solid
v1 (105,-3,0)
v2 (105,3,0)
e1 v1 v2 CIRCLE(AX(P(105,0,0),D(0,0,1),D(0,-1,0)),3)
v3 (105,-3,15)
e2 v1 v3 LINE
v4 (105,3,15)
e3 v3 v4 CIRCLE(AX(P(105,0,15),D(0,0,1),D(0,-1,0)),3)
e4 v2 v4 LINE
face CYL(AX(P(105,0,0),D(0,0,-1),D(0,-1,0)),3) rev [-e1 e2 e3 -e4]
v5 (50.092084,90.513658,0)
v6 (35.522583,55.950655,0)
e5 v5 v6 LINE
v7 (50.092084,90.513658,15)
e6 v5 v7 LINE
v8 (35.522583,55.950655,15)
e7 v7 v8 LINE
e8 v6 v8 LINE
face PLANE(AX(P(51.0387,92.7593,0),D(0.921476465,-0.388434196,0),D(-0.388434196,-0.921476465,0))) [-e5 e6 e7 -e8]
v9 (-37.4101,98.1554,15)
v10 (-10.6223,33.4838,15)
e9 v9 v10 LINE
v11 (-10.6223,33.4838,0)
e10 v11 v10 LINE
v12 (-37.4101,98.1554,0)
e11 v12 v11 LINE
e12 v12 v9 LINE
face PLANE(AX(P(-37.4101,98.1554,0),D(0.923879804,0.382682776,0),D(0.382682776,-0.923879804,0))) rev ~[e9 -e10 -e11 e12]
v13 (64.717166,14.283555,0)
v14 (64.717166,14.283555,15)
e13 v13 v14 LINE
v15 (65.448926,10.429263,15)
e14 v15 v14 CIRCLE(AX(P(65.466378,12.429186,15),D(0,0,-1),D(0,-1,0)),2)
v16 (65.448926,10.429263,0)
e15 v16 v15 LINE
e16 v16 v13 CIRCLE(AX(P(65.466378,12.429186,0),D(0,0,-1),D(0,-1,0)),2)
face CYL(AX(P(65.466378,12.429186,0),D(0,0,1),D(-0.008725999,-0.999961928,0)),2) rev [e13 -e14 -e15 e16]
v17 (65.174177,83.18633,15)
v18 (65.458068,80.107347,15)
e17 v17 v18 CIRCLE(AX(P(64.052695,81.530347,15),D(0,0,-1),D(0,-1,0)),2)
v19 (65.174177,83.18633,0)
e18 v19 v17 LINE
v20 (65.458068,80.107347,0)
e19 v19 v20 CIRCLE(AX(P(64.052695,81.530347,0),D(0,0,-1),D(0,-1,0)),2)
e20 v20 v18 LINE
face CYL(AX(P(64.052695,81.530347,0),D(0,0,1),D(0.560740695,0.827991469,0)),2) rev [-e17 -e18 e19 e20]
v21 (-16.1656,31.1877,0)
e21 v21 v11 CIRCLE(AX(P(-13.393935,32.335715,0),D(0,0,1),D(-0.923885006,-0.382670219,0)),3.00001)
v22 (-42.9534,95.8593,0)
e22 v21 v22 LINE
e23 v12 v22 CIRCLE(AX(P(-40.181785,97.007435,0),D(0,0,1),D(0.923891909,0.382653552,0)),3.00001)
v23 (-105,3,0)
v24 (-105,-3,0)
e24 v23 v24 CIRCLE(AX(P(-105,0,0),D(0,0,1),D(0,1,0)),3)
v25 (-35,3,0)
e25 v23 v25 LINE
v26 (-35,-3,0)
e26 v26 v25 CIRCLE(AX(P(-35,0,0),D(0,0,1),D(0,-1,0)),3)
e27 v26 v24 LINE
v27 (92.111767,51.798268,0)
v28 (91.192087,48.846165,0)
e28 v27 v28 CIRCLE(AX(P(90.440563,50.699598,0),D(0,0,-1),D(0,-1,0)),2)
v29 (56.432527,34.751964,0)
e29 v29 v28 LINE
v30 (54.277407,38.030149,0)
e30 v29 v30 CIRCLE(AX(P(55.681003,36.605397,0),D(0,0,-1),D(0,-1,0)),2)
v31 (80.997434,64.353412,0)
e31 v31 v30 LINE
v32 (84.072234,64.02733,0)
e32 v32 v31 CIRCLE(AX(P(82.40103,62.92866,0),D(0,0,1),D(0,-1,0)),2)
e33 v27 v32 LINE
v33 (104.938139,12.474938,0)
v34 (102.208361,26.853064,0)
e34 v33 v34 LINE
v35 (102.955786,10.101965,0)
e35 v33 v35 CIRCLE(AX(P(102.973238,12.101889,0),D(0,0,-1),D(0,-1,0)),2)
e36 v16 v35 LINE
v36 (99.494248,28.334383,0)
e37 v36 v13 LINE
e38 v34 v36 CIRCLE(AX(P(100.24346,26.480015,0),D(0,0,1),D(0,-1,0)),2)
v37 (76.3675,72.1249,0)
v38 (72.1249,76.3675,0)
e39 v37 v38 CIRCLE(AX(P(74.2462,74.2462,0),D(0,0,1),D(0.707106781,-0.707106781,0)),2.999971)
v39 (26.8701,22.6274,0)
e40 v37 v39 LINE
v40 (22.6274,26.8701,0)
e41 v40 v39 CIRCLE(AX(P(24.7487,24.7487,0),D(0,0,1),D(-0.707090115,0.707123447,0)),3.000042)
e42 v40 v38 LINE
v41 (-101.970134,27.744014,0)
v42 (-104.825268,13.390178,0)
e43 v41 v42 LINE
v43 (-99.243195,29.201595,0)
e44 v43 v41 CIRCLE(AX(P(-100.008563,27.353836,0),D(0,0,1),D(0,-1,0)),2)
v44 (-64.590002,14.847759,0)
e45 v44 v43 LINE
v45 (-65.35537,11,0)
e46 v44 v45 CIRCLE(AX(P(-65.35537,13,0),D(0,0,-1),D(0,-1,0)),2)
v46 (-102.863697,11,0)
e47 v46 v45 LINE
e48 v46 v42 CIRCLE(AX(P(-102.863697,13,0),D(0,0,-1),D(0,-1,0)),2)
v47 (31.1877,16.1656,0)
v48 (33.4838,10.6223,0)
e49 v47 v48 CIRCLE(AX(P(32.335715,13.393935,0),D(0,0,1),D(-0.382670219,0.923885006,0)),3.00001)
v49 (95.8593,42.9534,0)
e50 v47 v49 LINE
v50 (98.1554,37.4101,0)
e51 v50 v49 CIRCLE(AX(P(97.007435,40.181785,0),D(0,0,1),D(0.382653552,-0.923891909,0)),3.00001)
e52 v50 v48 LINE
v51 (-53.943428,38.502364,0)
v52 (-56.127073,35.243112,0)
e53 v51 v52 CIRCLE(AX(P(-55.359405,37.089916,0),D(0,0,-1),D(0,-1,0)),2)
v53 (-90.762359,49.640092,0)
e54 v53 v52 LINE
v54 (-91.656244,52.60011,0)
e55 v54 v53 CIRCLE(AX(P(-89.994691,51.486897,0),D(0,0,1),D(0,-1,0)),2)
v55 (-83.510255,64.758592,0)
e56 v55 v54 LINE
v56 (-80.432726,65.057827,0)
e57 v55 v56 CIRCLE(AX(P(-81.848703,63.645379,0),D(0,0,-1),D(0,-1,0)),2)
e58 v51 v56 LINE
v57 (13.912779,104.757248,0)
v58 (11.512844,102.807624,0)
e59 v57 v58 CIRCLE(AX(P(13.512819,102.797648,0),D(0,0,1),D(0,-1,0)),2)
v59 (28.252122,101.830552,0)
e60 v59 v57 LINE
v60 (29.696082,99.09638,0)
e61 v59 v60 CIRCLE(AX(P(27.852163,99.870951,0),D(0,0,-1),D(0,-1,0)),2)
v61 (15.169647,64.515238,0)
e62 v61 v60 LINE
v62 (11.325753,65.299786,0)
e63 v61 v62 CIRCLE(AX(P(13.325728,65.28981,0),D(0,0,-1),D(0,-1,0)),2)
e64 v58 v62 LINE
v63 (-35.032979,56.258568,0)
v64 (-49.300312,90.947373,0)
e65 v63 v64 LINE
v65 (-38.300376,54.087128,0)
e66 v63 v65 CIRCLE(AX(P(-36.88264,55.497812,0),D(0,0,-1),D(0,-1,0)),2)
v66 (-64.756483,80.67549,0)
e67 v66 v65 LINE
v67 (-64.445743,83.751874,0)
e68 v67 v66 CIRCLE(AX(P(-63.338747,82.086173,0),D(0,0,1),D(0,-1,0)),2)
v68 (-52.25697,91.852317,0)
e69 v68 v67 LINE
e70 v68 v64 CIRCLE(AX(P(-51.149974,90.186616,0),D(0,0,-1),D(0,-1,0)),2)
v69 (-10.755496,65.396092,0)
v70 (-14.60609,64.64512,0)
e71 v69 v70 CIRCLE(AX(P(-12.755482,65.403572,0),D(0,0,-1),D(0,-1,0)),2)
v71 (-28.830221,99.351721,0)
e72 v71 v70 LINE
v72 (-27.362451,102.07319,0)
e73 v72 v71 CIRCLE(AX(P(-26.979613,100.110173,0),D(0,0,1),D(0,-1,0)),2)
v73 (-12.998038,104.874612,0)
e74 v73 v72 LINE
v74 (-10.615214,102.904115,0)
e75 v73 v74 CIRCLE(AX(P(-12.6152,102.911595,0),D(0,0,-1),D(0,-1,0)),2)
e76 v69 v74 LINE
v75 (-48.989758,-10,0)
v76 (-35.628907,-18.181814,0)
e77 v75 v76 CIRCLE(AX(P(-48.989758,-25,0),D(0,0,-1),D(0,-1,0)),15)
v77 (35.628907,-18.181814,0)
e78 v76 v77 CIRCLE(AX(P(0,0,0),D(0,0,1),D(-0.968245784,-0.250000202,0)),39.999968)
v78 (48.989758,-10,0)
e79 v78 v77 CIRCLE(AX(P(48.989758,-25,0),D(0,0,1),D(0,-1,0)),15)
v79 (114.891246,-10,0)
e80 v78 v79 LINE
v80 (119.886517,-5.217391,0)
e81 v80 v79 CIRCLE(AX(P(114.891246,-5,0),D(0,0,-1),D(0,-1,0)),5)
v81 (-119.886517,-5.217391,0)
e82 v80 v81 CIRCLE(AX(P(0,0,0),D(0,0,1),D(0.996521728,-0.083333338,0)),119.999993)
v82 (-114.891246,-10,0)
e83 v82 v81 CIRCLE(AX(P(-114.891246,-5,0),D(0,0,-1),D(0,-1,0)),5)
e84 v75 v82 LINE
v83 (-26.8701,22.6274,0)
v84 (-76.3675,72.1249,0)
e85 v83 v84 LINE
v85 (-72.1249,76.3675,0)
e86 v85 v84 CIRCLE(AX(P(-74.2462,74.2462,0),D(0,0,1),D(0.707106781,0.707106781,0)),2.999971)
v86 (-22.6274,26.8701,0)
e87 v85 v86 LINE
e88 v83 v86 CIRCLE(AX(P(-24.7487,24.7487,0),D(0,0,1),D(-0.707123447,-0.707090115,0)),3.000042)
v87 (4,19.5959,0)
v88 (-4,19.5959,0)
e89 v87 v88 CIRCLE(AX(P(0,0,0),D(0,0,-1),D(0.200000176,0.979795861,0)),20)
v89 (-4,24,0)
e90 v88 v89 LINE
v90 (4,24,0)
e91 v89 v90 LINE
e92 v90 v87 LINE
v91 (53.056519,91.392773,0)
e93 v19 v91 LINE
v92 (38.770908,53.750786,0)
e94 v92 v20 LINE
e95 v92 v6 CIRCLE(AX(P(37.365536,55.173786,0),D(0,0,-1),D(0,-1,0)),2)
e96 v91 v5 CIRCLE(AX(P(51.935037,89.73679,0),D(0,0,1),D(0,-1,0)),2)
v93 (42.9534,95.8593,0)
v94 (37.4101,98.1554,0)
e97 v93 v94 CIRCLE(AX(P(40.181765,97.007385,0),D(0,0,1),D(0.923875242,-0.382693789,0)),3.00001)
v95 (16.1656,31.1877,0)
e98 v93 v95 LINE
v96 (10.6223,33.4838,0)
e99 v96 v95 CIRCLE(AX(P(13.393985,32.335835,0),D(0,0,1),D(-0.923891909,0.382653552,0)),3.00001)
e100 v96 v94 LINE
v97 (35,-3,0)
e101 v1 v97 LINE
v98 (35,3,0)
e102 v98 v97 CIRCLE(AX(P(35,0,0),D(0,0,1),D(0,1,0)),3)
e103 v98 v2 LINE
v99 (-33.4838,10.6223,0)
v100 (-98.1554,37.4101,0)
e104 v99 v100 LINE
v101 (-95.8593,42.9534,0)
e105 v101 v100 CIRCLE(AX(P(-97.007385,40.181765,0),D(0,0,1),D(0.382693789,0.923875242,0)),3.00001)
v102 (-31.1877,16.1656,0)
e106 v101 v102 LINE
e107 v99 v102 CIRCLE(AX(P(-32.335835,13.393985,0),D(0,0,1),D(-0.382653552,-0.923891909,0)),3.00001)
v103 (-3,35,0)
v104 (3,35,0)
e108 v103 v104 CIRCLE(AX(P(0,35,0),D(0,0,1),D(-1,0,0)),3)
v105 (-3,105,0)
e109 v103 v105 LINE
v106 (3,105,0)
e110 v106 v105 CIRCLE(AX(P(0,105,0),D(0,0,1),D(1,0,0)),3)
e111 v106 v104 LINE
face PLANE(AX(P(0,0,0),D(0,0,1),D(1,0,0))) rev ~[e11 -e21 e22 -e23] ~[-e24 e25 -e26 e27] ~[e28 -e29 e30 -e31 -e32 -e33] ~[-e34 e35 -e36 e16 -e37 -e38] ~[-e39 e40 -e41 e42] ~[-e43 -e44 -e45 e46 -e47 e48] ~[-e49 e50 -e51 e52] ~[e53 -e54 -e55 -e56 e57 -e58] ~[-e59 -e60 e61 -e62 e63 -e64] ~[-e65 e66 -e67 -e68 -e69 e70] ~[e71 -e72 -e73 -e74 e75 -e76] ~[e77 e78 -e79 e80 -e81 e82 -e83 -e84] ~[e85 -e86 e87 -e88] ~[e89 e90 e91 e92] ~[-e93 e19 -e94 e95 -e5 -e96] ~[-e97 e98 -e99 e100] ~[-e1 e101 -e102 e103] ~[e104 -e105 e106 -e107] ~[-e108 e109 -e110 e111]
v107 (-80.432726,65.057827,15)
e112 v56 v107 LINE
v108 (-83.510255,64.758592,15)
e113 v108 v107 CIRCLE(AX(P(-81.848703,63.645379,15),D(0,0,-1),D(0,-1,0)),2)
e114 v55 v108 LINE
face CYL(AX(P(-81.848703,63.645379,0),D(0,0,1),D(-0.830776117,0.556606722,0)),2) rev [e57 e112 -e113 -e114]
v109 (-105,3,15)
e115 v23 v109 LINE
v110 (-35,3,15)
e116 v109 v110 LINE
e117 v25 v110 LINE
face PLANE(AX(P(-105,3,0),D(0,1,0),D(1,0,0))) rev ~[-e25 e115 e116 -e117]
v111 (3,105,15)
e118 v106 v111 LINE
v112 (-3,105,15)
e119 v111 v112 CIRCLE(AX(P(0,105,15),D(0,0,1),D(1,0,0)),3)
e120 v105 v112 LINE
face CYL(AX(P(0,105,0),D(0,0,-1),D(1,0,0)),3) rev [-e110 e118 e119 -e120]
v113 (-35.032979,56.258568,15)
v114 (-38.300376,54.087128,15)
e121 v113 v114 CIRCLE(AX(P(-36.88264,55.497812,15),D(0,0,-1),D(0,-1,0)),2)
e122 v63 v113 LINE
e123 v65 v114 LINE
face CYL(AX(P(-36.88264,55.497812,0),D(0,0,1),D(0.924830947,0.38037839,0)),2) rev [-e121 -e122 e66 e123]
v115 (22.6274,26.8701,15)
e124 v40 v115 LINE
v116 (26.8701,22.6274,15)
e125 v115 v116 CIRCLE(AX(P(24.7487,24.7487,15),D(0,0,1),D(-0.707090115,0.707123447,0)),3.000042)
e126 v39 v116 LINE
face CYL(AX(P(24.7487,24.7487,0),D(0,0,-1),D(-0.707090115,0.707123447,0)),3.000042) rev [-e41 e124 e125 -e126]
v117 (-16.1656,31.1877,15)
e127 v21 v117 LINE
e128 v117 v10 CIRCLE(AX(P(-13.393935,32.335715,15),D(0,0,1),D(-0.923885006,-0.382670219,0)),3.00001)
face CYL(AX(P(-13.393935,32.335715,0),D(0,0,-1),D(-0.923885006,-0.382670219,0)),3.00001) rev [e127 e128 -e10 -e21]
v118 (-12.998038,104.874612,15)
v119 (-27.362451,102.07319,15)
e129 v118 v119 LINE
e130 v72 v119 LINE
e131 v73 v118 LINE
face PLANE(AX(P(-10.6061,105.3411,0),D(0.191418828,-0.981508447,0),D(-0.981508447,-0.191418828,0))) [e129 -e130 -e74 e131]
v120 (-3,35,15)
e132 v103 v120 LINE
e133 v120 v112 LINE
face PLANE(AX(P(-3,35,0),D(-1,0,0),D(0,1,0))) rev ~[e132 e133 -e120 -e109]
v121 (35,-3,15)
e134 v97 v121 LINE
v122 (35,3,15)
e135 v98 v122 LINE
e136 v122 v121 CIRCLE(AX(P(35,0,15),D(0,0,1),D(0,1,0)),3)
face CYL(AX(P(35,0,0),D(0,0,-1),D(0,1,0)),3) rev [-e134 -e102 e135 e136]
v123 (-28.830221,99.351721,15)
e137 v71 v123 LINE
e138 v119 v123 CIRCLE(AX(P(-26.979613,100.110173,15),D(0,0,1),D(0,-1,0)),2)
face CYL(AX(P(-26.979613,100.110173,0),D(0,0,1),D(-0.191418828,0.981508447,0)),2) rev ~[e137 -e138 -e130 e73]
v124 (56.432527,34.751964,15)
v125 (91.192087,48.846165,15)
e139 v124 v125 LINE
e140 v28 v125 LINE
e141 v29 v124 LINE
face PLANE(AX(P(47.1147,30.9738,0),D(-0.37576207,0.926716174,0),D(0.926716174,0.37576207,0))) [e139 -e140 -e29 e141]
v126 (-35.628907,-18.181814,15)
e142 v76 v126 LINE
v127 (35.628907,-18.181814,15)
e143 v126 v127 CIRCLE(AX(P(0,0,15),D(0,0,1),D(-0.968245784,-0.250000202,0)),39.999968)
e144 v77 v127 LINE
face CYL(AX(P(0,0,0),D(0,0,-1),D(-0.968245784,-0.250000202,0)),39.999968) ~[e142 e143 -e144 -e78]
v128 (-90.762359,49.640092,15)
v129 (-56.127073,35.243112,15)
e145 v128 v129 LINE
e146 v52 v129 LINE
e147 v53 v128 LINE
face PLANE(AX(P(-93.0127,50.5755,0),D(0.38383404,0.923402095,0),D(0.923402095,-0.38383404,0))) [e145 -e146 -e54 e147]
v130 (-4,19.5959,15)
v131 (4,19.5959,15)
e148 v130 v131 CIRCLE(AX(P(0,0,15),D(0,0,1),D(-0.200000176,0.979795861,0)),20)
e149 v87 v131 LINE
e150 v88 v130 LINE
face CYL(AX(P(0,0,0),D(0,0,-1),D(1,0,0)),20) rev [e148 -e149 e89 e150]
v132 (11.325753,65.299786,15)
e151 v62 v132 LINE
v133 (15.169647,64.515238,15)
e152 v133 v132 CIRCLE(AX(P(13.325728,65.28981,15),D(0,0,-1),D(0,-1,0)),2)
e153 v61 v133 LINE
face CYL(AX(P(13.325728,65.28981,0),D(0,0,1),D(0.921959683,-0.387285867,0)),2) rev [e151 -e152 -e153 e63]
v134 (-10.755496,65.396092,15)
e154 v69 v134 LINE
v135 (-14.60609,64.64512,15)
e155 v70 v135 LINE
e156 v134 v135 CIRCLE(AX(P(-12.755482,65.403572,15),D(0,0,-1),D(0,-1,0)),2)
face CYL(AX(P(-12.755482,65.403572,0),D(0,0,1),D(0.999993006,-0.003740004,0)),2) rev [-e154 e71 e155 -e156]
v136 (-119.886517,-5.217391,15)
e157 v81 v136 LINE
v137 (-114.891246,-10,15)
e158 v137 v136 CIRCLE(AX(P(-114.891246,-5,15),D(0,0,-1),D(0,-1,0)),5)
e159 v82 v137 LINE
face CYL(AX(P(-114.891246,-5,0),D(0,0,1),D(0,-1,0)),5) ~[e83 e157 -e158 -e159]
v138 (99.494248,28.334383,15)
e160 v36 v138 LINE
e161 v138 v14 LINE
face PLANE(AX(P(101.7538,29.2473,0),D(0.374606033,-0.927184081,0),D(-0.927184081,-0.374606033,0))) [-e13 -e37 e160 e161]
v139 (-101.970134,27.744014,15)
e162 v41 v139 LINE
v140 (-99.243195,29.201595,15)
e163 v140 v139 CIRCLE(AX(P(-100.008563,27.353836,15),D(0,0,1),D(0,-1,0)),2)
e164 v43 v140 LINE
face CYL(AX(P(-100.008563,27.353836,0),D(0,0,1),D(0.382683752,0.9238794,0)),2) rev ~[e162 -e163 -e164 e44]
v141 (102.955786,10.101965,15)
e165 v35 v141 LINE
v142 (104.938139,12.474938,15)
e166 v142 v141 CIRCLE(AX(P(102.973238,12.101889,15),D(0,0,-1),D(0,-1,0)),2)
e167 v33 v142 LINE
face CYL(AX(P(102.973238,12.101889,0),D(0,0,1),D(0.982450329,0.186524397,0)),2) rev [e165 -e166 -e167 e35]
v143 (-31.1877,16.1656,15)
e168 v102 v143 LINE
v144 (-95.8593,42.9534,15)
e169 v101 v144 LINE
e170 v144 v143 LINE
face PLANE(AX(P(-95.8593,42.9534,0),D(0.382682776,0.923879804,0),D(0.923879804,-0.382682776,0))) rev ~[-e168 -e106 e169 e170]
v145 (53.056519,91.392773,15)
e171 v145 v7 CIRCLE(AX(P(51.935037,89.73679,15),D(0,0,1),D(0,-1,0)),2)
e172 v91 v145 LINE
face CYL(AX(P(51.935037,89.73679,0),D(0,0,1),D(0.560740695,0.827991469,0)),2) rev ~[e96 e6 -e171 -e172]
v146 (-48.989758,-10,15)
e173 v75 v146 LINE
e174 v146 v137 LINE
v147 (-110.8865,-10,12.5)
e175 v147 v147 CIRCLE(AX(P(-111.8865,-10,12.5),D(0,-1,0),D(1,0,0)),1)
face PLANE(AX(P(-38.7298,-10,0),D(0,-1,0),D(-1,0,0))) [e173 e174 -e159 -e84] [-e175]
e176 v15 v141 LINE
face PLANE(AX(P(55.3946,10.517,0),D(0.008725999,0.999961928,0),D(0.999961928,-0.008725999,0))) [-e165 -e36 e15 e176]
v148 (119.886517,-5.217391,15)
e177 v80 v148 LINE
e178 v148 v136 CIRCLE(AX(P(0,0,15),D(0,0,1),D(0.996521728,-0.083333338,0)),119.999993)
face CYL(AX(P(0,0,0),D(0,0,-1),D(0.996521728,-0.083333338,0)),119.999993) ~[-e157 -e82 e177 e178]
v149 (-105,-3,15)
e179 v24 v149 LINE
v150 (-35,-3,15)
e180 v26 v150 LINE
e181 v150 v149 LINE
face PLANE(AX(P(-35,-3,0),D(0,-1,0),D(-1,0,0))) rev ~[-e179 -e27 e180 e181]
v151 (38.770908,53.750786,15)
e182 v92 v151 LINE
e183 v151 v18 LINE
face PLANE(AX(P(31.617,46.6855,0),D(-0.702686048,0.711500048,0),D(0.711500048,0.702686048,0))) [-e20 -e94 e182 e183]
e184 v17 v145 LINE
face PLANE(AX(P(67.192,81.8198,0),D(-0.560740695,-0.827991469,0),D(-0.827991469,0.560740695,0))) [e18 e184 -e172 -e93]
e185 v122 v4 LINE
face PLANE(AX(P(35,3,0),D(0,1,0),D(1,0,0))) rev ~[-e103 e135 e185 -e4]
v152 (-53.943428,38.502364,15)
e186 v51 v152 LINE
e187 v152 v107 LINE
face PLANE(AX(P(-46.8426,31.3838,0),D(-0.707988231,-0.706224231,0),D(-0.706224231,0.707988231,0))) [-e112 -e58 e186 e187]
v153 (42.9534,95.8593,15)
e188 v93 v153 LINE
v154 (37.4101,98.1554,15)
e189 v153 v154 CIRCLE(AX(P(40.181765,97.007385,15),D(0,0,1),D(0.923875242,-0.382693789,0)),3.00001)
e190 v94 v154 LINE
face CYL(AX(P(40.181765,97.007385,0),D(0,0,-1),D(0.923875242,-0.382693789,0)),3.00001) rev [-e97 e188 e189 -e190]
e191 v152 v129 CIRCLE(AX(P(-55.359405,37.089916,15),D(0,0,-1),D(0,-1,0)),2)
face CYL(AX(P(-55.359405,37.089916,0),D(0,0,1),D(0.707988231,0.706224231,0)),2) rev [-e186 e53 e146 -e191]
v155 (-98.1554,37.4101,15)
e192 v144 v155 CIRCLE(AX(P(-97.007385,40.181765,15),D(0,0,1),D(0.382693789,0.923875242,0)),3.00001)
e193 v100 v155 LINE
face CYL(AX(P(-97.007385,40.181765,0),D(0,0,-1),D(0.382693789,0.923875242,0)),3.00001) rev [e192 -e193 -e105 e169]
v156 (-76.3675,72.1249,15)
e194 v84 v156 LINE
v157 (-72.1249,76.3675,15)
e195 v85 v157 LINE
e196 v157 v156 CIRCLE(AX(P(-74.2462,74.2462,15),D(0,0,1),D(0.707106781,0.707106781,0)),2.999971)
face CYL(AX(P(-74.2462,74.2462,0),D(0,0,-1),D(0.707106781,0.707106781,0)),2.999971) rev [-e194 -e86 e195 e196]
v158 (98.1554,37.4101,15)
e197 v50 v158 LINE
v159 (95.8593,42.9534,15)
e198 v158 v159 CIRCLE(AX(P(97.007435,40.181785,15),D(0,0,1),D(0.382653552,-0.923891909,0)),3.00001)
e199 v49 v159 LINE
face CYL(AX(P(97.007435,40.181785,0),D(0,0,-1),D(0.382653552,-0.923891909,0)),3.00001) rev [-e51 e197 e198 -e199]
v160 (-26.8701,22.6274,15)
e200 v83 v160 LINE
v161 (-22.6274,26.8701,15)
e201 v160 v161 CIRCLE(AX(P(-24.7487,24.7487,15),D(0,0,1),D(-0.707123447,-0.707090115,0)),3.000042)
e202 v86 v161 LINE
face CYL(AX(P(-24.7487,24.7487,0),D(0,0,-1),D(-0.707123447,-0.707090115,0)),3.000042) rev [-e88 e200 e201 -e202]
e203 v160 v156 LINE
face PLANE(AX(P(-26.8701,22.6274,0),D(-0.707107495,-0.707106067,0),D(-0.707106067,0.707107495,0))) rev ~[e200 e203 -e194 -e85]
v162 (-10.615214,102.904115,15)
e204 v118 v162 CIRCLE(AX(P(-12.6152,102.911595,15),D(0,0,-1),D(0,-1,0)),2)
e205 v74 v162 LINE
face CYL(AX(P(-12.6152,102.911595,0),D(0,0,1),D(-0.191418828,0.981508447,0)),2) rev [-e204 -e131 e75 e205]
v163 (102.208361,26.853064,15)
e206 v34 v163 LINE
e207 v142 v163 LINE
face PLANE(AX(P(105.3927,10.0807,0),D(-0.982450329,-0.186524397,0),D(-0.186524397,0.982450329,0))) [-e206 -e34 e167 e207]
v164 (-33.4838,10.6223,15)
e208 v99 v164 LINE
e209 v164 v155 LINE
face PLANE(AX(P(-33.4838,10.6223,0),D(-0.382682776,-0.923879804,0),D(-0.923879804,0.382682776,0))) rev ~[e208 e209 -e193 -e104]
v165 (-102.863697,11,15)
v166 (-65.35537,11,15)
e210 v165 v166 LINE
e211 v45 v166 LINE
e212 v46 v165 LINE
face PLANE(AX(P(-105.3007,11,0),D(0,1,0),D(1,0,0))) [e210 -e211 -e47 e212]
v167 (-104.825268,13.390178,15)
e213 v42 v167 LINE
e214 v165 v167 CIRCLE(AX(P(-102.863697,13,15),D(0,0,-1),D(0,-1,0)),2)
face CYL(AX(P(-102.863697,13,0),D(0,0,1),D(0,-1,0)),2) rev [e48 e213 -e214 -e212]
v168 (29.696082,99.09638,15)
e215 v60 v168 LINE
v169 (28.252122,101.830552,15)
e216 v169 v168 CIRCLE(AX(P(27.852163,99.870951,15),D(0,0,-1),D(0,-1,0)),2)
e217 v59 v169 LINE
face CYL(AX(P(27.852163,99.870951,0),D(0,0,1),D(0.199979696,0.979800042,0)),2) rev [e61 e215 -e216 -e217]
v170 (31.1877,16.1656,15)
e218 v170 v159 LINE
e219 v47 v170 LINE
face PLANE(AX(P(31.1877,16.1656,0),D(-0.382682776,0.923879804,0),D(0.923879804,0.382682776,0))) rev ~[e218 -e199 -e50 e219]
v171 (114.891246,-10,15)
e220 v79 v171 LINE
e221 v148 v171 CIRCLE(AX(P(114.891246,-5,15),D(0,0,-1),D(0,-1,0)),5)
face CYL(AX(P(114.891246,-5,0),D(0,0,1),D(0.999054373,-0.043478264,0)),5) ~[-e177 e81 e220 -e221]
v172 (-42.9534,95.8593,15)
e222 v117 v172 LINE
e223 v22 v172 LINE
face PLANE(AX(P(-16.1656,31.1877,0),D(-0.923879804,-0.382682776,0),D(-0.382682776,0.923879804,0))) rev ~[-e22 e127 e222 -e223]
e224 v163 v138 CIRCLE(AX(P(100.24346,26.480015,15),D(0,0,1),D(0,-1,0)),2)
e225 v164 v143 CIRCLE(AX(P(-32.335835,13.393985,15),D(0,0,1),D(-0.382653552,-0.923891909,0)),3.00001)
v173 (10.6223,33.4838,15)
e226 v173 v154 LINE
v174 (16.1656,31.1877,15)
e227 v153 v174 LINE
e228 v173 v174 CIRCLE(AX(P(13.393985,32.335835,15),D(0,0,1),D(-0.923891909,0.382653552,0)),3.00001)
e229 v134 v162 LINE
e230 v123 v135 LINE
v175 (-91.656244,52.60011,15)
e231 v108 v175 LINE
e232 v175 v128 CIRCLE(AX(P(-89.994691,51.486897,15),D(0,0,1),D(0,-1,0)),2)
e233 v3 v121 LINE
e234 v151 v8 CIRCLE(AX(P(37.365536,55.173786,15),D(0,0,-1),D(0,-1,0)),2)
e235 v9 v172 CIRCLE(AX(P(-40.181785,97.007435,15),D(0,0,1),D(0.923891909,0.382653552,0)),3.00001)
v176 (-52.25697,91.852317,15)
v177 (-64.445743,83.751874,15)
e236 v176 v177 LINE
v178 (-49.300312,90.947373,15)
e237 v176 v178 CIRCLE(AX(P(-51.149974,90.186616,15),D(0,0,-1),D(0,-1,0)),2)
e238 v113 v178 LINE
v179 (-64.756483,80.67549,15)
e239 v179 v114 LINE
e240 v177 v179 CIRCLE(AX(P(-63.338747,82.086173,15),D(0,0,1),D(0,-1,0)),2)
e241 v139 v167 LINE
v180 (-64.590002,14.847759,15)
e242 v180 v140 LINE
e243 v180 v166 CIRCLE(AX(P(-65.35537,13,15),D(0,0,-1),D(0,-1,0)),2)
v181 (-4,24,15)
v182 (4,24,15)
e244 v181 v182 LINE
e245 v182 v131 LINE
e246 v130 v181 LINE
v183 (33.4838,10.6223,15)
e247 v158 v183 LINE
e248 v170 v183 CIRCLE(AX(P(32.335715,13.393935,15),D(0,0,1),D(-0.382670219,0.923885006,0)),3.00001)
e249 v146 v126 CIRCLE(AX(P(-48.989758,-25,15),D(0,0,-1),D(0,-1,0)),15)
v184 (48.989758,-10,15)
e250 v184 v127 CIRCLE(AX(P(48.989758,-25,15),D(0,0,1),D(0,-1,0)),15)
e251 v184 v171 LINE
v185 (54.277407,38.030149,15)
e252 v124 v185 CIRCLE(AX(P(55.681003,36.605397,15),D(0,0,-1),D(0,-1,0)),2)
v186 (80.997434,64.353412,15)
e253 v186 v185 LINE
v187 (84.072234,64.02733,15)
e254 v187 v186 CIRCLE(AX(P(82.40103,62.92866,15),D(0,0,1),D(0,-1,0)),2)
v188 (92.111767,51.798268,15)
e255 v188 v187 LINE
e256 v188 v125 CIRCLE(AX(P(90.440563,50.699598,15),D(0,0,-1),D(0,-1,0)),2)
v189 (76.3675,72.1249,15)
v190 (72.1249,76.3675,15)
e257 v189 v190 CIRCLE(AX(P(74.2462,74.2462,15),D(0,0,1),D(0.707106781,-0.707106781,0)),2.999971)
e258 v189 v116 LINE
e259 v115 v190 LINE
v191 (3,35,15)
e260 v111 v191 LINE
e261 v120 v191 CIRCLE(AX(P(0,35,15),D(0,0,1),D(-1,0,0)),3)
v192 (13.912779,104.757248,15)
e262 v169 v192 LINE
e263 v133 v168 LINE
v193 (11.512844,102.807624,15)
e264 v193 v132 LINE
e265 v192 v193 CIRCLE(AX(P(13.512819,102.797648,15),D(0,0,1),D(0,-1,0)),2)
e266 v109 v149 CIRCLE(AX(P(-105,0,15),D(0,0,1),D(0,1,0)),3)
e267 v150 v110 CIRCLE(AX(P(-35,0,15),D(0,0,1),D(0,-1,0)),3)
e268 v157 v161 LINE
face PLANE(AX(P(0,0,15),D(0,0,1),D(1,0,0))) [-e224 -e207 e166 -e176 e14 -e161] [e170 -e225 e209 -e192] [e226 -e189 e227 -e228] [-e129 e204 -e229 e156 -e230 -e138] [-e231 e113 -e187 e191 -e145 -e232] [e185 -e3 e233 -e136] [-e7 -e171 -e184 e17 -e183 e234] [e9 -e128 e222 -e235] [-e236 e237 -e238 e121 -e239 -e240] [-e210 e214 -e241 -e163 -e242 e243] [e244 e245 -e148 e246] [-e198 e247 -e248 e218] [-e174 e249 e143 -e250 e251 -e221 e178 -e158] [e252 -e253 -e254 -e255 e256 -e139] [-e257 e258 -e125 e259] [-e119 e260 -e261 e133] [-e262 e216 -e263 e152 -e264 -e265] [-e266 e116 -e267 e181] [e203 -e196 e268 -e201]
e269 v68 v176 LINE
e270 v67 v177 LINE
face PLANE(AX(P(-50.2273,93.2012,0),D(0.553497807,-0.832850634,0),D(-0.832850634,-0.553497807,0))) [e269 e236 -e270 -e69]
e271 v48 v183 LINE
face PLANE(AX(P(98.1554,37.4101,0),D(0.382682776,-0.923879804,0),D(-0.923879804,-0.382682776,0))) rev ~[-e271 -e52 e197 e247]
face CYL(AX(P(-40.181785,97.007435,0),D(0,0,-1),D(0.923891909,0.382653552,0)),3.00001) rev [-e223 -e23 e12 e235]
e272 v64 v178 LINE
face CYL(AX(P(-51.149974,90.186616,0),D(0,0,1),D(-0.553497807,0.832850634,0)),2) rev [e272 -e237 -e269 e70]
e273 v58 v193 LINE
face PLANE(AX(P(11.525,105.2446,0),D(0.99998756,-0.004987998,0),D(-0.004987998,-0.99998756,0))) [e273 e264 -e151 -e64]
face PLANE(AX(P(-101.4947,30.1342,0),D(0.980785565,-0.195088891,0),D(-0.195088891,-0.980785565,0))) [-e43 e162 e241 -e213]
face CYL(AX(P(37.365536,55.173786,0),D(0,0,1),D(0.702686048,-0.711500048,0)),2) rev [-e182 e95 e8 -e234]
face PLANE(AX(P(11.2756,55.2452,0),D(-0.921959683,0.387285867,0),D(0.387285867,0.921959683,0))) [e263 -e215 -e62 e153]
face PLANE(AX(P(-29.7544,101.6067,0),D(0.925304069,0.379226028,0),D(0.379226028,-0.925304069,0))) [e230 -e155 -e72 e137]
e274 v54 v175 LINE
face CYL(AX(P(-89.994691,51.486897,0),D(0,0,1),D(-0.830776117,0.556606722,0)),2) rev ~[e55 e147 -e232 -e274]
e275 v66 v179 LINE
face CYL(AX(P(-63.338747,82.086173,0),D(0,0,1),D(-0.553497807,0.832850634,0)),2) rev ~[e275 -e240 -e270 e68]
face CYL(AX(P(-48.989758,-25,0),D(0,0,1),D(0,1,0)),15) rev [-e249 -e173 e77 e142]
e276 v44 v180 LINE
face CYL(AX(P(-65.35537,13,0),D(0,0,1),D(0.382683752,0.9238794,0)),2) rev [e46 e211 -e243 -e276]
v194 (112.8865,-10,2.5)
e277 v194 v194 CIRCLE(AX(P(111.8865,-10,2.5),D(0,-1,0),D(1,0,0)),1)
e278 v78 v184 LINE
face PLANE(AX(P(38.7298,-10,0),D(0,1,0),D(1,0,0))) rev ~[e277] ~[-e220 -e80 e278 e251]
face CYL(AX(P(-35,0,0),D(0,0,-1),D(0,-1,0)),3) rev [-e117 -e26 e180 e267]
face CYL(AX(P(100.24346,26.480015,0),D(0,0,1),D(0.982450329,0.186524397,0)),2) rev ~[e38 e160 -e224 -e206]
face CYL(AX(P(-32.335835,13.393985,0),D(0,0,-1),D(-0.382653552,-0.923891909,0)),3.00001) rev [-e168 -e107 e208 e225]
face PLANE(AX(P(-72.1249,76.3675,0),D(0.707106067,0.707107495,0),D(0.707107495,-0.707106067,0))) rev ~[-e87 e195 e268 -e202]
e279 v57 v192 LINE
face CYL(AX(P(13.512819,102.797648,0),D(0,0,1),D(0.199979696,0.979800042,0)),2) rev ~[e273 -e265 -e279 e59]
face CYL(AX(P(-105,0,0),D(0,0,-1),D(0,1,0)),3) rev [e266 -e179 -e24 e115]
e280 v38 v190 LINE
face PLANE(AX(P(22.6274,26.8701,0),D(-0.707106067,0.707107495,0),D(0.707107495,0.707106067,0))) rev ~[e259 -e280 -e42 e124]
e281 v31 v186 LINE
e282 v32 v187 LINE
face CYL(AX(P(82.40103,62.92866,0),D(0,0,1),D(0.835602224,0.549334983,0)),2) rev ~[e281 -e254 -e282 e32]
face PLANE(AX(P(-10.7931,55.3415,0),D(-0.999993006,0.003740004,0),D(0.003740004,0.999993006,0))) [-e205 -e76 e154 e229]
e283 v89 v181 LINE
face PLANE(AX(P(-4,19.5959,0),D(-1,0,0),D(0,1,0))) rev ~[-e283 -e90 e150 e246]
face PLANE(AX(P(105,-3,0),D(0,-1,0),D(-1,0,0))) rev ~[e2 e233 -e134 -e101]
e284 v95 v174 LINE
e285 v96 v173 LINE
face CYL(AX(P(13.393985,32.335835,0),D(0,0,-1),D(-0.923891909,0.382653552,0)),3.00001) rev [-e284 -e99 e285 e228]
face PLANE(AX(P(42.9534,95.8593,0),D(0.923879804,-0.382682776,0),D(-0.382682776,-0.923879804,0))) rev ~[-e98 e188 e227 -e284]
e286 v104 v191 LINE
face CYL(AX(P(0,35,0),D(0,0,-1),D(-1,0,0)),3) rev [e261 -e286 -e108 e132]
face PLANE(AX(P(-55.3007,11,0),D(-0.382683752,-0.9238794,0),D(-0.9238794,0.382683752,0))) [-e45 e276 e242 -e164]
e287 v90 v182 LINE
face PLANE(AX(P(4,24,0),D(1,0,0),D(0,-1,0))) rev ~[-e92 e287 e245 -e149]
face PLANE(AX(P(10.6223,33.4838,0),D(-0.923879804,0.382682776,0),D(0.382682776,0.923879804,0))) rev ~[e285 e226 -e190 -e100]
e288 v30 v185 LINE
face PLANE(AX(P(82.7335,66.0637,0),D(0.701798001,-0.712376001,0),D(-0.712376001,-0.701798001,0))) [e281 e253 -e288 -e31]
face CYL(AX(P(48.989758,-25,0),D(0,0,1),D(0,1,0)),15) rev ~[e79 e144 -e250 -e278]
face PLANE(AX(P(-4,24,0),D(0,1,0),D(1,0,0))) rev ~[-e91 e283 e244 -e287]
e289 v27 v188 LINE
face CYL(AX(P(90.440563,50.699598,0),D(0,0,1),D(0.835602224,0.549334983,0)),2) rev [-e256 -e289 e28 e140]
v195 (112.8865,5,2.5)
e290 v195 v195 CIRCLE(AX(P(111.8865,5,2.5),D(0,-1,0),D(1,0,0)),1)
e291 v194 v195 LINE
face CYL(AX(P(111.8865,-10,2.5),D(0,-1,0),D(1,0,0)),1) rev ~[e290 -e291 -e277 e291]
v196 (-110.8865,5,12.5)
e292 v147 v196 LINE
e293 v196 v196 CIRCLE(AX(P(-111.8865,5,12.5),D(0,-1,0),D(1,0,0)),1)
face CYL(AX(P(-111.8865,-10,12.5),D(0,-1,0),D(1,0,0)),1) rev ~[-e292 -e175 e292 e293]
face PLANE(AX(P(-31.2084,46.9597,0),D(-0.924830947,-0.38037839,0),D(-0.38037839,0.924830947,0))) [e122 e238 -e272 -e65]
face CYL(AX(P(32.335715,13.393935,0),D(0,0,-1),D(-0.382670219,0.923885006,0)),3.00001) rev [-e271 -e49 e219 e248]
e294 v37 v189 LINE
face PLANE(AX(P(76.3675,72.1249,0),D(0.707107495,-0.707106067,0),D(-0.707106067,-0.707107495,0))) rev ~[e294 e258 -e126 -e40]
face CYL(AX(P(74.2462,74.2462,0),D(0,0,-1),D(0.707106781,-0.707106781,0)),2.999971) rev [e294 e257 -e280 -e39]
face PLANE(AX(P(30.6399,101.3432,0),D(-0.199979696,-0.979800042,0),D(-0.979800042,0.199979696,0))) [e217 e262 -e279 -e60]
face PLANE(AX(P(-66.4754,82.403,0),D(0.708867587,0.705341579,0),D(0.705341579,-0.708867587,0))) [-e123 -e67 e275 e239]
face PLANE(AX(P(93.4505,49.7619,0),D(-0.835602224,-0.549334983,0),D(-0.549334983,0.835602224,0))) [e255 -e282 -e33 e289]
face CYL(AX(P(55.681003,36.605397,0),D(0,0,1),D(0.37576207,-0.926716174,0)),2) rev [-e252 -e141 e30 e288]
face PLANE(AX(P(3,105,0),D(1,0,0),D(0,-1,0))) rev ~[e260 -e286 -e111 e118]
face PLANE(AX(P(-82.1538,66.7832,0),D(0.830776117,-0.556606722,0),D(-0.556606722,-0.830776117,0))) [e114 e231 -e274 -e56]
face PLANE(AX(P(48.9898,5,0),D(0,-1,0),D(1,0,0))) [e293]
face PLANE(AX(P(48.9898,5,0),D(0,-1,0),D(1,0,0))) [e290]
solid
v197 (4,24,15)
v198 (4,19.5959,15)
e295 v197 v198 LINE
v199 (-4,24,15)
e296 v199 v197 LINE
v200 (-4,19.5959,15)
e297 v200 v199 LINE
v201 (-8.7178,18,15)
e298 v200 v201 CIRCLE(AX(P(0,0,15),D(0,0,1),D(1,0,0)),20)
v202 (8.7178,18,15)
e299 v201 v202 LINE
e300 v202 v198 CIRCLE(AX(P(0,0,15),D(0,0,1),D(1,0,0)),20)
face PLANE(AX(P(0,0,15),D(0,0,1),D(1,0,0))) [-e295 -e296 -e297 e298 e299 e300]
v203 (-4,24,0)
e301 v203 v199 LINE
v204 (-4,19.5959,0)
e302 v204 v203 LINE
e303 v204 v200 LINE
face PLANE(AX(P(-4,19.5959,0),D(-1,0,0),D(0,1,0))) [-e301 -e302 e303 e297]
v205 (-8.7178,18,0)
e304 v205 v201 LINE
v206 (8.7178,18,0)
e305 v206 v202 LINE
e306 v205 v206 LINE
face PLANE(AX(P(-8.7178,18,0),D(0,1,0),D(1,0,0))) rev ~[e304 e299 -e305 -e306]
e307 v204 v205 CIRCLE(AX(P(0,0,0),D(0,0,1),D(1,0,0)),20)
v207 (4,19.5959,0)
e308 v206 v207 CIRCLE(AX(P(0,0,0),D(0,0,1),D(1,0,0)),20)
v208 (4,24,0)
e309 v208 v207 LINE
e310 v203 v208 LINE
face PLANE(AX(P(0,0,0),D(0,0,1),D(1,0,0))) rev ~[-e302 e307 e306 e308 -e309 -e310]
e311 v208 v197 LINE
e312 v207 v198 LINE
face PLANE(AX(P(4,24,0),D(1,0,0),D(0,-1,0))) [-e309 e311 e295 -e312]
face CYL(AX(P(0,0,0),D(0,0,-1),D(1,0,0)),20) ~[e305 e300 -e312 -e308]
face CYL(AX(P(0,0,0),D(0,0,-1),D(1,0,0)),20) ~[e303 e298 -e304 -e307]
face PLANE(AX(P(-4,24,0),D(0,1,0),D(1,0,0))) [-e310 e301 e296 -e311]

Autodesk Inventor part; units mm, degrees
ref_plane "YZ Plane" through (0, 0, 0) normal (1, 0, 0) x (0, 1, 0)
ref_plane "XZ Plane" through (0, 0, 0) normal (0, 1, 0) x (-1, 0, 0)
ref_plane "XY Plane" through (0, 0, 0) normal (0, 0, 1) x (1, 0, 0)
sketch "Skizze1" plane through (0, 0, 0) normal (0, 0, 1) x (1, 0, 0)
  line L0 (-4, 24) -> (4, 24)
  line L1 (4, 24) -> (4, 19.5959)
  line L2 (-4, 19.5959) -> (-4, 24)
  line L3 (-4, 24) -> (4, 19.5959) construction
  line L4 (4, 24) -> (-4, 19.5959) construction
  line L5 (0, 152) -> (0, -72) construction
  line L6 (-168, 0) -> (168, 0) construction
  line L7 (-35, 0) -> (-105, 0) construction
  line L8 (-35, -3) -> (-105, -3)
  line L9 (-105, 3) -> (-35, 3)
  arc A0 (-35, -3) -> (-35, 3) centre (-35, 0) ccw
  arc A1 (-105, 3) -> (-105, -3) centre (-105, 0) ccw
  arc A2 (-38.7298, -10) -> (38.7298, -10) centre (0, 0) ccw
  line L10 (-38.7298, -10) -> (-119.5826, -10)
  line L11 (38.7298, -10) -> (119.5826, -10)
  arc A3 (119.5826, -10) -> (-119.5826, -10) centre (0, 0) ccw
  arc A4 (-33.4838, 10.6223) -> (-31.1877, 16.1656) centre (-32.3358, 13.3939) ccw
  line L12 (-95.8593, 42.9534) -> (-31.1877, 16.1656)
  line L13 (-32.3358, 13.3939) -> (-97.0074, 40.1818) construction
  arc A5 (-95.8593, 42.9534) -> (-98.1554, 37.4101) centre (-97.0074, 40.1818) ccw
  line L14 (-33.4838, 10.6223) -> (-98.1554, 37.4101)
  arc A6 (-26.8701, 22.6274) -> (-22.6274, 26.8701) centre (-24.7487, 24.7487) ccw
  line L15 (-72.1249, 76.3675) -> (-22.6274, 26.8701)
  line L16 (-24.7487, 24.7487) -> (-74.2462, 74.2462) construction
  arc A7 (-72.1249, 76.3675) -> (-76.3675, 72.1249) centre (-74.2462, 74.2462) ccw
  line L17 (-26.8701, 22.6274) -> (-76.3675, 72.1249)
  arc A8 (-16.1656, 31.1877) -> (-10.6223, 33.4838) centre (-13.3939, 32.3358) ccw
  line L18 (-37.4101, 98.1554) -> (-10.6223, 33.4838)
  line L19 (-13.3939, 32.3358) -> (-40.1818, 97.0074) construction
  arc A9 (-37.4101, 98.1554) -> (-42.9534, 95.8593) centre (-40.1818, 97.0074) ccw
  line L20 (-16.1656, 31.1877) -> (-42.9534, 95.8593)
  arc A10 (-3, 35) -> (3, 35) centre (0, 35) ccw
  line L21 (3, 105) -> (3, 35)
  line L22 (0, 35) -> (0, 105) construction
  arc A11 (3, 105) -> (-3, 105) centre (0, 105) ccw
  line L23 (-3, 35) -> (-3, 105)
  arc A12 (10.6223, 33.4838) -> (16.1656, 31.1877) centre (13.3939, 32.3358) ccw
  line L24 (42.9534, 95.8593) -> (16.1656, 31.1877)
  line L25 (13.3939, 32.3358) -> (40.1818, 97.0074) construction
  arc A13 (42.9534, 95.8593) -> (37.4101, 98.1554) centre (40.1818, 97.0074) ccw
  line L26 (10.6223, 33.4838) -> (37.4101, 98.1554)
  arc A14 (22.6274, 26.8701) -> (26.8701, 22.6274) centre (24.7487, 24.7487) ccw
  line L27 (76.3675, 72.1249) -> (26.8701, 22.6274)
  line L28 (24.7487, 24.7487) -> (74.2462, 74.2462) construction
  arc A15 (76.3675, 72.1249) -> (72.1249, 76.3675) centre (74.2462, 74.2462) ccw
  line L29 (22.6274, 26.8701) -> (72.1249, 76.3675)
  arc A16 (31.1877, 16.1656) -> (33.4838, 10.6223) centre (32.3358, 13.3939) ccw
  line L30 (98.1554, 37.4101) -> (33.4838, 10.6223)
  line L31 (32.3358, 13.3939) -> (97.0074, 40.1818) construction
  arc A17 (98.1554, 37.4101) -> (95.8593, 42.9534) centre (97.0074, 40.1818) ccw
  line L32 (31.1877, 16.1656) -> (95.8593, 42.9534)
  arc A18 (35, 3) -> (35, -3) centre (35, 0) ccw
  line L33 (105, -3) -> (35, -3)
  line L34 (35, 0) -> (105, 0) construction
  arc A19 (105, -3) -> (105, 3) centre (105, 0) ccw
  line L35 (35, 3) -> (105, 3)
  line L36 (-55.3007, 11) -> (-101.4947, 30.1342)
  line L37 (-101.4947, 30.1342) -> (-105.3007, 11)
  line L38 (-105.3007, 11) -> (-55.3007, 11)
  line L39 (-82.1538, 66.7832) -> (-93.0127, 50.5755)
  line L40 (-46.8426, 31.3838) -> (-82.1538, 66.7832)
  line L41 (-93.0127, 50.5755) -> (-46.8426, 31.3838)
  line L42 (-50.2273, 93.2012) -> (-66.4754, 82.403)
  line L43 (-31.2084, 46.9597) -> (-50.2273, 93.2012)
  line L44 (-66.4754, 82.403) -> (-31.2084, 46.9597)
  line L45 (-10.6061, 105.3411) -> (-29.7544, 101.6067)
  line L46 (-10.7931, 55.3415) -> (-10.6061, 105.3411)
  line L47 (-29.7544, 101.6067) -> (-10.7931, 55.3415)
  line L48 (30.6399, 101.3432) -> (11.525, 105.2446)
  line L49 (11.2756, 55.2452) -> (30.6399, 101.3432)
  line L50 (11.525, 105.2446) -> (11.2756, 55.2452)
  line L51 (67.192, 81.8198) -> (51.0387, 92.7593)
  line L52 (31.617, 46.6855) -> (67.192, 81.8198)
  line L53 (51.0387, 92.7593) -> (31.617, 46.6855)
  line L54 (93.4505, 49.7619) -> (82.7335, 66.0637)
  line L55 (47.1147, 30.9738) -> (93.4505, 49.7619)
  line L56 (82.7335, 66.0637) -> (47.1147, 30.9738)
  line L57 (105.3927, 10.0807) -> (101.7538, 29.2473)
  line L58 (55.3946, 10.517) -> (105.3927, 10.0807)
  line L59 (101.7538, 29.2473) -> (55.3946, 10.517)
  circle A20 centre (0, 0) radius 20
  line L60 (0, 20) -> (4, 20) construction
  line L61 (-4, -24) -> (4, -24)
  line L62 (4, -24) -> (4, -19.5959)
  line L63 (-4, -19.5959) -> (-4, -24)
  line L64 (-4, -24) -> (4, -19.5959) construction
  line L65 (4, -24) -> (-4, -19.5959) construction
  line L66 (0, -20) -> (4, -20) construction
  arc A21 (-4, 19.5959) -> (-4, -19.5959) centre (0, 0) ccw
  arc A22 (4, -19.5959) -> (4, 19.5959) centre (0, 0) ccw
  line L67 (-8.7178, -18) -> (8.7178, -18)
  line L68 (-8.7178, 18) -> (8.7178, 18)
  point P0 (0, 21.798)
  point P1 (-70, 0)
  point P2 (-64.6716, 26.7878)
  point P3 (-49.4975, 49.4975)
  point P4 (-26.7878, 64.6716)
  point P5 (0, 70)
  point P6 (26.7878, 64.6716)
  point P7 (49.4975, 49.4975)
  point P8 (64.6716, 26.7878)
  point P9 (70, 0)
  point P10 (0, -21.798)
  point P11 (4, -19.5959)
  point P12 (-4, -19.5959)
  point P13 (0, 110)
  point P14 (0, 32)
  point P15 (-8.7178, 18)
  point P16 (8.7178, 18)
  dimension "d2" = 8
  dimension "d7" = 70
  dimension "d8" = 3
  dimension "d9" = 70
  dimension "d12" = 180
  dimension "CapstonBig_Radius" = 120
  dimension "d19" = 40
  dimension "d21" = 8
  dimension "d22" = 8
  dimension "d23" = 50
  dimension "d24" = 50
  dimension "d27" = 158
  dimension "d43" = 20
  dimension "d44" = 10
  dimension "d45" = 110
  dimension "d53" = 2
  dimension "d54" = 8
  dimension "d55" = 18
  dimension "d56" = 8.7178
  dimension "d57" = 19.5959
  dimension "d58" = 4
  dimension "d59" = 19.5959
  dimension "d60" = 4
  dimension "d61" = 18
  dimension "d62" = 8.7178
  dimension "d63" = 2
extrude "Extrusion1" add sketch "Skizze1" along normal blind 15 contours A20 L62 L61 L63 | L10 A3 L11 A2
extrude "Extrusion3" add sketch "Skizze1" along normal blind 15 separate body contours L0 L1 A20 L2 | A20 L68
fillet "Rundung1" radius 15 2 edges at (-38.7298, -10, 7.5) (38.7298, -10, 7.5)
fillet "Rundung2" radius 5 2 edges at (119.5826, -10, 7.5) (-119.5826, -10, 7.5)
sketch "Skizze2" plane through (48.9898, -10, 0) normal (0, -1, 0) x (1, 0, 0)
  circle A0 centre (62.8967, 2.5) radius 1
  line L0 (0, 0) -> (65.9015, 0) projected
  circle A1 centre (-160.8763, 12.5) radius 1
  line L1 (-163.881, 15) -> (-97.9796, 15) projected
  line L2 (-168.8763, 15) -> (-168.8763, 0) projected
  line L3 (70.8967, 0) -> (70.8967, 15) projected
  point P0 (-48.9898, 0)
  dimension "d29" = 2.5
  dimension "d30" = 2
  dimension "d31" = 2.5
  dimension "d32" = 2
  dimension "d33" = 8
  dimension "d34" = 8
extrude "Extrusion2" cut sketch "Skizze2" against normal blind 15 bodies 1
fillet "Rundung3" radius 2 24 edges at (-101.4947, 30.1342, 7.5) (-105.3007, 11, 7.5) (-93.0127, 50.5755, 7.5) (-66.4754, 82.403, 7.5) (-10.6061, 105.3411, 7.5) (-50.2273, 93.2012, 7.5) (-82.1538, 66.7832, 7.5) (-29.7544, 101.6067, 7.5) (30.6399, 101.3432, 7.5) (11.525, 105.2446, 7.5) (67.192, 81.8198, 7.5) (51.0387, 92.7593, 7.5) (93.4505, 49.7619, 7.5) (82.7335, 66.0637, 7.5) (101.7538, 29.2473, 7.5) (105.3927, 10.0807, 7.5) (-55.3007, 11, 7.5) (-46.8426, 31.3838, 7.5) (-31.2084, 46.9597, 7.5) (-10.7931, 55.3415, 7.5) (11.2756, 55.2452, 7.5) (31.617, 46.6855, 7.5) (47.1147, 30.9738, 7.5) (55.3946, 10.517, 7.5)
ref_plane "Arbeitsebene1" through (0, 0, 7.5) normal (0, 0, 1) x (1, 0, 0)
equation "\"d43\" = Shaft_CapstonPart_Dia"
equation "\"Shaft_CapstonPart_Dia\" = 20"
properties part number "Capstonradialdisc"
